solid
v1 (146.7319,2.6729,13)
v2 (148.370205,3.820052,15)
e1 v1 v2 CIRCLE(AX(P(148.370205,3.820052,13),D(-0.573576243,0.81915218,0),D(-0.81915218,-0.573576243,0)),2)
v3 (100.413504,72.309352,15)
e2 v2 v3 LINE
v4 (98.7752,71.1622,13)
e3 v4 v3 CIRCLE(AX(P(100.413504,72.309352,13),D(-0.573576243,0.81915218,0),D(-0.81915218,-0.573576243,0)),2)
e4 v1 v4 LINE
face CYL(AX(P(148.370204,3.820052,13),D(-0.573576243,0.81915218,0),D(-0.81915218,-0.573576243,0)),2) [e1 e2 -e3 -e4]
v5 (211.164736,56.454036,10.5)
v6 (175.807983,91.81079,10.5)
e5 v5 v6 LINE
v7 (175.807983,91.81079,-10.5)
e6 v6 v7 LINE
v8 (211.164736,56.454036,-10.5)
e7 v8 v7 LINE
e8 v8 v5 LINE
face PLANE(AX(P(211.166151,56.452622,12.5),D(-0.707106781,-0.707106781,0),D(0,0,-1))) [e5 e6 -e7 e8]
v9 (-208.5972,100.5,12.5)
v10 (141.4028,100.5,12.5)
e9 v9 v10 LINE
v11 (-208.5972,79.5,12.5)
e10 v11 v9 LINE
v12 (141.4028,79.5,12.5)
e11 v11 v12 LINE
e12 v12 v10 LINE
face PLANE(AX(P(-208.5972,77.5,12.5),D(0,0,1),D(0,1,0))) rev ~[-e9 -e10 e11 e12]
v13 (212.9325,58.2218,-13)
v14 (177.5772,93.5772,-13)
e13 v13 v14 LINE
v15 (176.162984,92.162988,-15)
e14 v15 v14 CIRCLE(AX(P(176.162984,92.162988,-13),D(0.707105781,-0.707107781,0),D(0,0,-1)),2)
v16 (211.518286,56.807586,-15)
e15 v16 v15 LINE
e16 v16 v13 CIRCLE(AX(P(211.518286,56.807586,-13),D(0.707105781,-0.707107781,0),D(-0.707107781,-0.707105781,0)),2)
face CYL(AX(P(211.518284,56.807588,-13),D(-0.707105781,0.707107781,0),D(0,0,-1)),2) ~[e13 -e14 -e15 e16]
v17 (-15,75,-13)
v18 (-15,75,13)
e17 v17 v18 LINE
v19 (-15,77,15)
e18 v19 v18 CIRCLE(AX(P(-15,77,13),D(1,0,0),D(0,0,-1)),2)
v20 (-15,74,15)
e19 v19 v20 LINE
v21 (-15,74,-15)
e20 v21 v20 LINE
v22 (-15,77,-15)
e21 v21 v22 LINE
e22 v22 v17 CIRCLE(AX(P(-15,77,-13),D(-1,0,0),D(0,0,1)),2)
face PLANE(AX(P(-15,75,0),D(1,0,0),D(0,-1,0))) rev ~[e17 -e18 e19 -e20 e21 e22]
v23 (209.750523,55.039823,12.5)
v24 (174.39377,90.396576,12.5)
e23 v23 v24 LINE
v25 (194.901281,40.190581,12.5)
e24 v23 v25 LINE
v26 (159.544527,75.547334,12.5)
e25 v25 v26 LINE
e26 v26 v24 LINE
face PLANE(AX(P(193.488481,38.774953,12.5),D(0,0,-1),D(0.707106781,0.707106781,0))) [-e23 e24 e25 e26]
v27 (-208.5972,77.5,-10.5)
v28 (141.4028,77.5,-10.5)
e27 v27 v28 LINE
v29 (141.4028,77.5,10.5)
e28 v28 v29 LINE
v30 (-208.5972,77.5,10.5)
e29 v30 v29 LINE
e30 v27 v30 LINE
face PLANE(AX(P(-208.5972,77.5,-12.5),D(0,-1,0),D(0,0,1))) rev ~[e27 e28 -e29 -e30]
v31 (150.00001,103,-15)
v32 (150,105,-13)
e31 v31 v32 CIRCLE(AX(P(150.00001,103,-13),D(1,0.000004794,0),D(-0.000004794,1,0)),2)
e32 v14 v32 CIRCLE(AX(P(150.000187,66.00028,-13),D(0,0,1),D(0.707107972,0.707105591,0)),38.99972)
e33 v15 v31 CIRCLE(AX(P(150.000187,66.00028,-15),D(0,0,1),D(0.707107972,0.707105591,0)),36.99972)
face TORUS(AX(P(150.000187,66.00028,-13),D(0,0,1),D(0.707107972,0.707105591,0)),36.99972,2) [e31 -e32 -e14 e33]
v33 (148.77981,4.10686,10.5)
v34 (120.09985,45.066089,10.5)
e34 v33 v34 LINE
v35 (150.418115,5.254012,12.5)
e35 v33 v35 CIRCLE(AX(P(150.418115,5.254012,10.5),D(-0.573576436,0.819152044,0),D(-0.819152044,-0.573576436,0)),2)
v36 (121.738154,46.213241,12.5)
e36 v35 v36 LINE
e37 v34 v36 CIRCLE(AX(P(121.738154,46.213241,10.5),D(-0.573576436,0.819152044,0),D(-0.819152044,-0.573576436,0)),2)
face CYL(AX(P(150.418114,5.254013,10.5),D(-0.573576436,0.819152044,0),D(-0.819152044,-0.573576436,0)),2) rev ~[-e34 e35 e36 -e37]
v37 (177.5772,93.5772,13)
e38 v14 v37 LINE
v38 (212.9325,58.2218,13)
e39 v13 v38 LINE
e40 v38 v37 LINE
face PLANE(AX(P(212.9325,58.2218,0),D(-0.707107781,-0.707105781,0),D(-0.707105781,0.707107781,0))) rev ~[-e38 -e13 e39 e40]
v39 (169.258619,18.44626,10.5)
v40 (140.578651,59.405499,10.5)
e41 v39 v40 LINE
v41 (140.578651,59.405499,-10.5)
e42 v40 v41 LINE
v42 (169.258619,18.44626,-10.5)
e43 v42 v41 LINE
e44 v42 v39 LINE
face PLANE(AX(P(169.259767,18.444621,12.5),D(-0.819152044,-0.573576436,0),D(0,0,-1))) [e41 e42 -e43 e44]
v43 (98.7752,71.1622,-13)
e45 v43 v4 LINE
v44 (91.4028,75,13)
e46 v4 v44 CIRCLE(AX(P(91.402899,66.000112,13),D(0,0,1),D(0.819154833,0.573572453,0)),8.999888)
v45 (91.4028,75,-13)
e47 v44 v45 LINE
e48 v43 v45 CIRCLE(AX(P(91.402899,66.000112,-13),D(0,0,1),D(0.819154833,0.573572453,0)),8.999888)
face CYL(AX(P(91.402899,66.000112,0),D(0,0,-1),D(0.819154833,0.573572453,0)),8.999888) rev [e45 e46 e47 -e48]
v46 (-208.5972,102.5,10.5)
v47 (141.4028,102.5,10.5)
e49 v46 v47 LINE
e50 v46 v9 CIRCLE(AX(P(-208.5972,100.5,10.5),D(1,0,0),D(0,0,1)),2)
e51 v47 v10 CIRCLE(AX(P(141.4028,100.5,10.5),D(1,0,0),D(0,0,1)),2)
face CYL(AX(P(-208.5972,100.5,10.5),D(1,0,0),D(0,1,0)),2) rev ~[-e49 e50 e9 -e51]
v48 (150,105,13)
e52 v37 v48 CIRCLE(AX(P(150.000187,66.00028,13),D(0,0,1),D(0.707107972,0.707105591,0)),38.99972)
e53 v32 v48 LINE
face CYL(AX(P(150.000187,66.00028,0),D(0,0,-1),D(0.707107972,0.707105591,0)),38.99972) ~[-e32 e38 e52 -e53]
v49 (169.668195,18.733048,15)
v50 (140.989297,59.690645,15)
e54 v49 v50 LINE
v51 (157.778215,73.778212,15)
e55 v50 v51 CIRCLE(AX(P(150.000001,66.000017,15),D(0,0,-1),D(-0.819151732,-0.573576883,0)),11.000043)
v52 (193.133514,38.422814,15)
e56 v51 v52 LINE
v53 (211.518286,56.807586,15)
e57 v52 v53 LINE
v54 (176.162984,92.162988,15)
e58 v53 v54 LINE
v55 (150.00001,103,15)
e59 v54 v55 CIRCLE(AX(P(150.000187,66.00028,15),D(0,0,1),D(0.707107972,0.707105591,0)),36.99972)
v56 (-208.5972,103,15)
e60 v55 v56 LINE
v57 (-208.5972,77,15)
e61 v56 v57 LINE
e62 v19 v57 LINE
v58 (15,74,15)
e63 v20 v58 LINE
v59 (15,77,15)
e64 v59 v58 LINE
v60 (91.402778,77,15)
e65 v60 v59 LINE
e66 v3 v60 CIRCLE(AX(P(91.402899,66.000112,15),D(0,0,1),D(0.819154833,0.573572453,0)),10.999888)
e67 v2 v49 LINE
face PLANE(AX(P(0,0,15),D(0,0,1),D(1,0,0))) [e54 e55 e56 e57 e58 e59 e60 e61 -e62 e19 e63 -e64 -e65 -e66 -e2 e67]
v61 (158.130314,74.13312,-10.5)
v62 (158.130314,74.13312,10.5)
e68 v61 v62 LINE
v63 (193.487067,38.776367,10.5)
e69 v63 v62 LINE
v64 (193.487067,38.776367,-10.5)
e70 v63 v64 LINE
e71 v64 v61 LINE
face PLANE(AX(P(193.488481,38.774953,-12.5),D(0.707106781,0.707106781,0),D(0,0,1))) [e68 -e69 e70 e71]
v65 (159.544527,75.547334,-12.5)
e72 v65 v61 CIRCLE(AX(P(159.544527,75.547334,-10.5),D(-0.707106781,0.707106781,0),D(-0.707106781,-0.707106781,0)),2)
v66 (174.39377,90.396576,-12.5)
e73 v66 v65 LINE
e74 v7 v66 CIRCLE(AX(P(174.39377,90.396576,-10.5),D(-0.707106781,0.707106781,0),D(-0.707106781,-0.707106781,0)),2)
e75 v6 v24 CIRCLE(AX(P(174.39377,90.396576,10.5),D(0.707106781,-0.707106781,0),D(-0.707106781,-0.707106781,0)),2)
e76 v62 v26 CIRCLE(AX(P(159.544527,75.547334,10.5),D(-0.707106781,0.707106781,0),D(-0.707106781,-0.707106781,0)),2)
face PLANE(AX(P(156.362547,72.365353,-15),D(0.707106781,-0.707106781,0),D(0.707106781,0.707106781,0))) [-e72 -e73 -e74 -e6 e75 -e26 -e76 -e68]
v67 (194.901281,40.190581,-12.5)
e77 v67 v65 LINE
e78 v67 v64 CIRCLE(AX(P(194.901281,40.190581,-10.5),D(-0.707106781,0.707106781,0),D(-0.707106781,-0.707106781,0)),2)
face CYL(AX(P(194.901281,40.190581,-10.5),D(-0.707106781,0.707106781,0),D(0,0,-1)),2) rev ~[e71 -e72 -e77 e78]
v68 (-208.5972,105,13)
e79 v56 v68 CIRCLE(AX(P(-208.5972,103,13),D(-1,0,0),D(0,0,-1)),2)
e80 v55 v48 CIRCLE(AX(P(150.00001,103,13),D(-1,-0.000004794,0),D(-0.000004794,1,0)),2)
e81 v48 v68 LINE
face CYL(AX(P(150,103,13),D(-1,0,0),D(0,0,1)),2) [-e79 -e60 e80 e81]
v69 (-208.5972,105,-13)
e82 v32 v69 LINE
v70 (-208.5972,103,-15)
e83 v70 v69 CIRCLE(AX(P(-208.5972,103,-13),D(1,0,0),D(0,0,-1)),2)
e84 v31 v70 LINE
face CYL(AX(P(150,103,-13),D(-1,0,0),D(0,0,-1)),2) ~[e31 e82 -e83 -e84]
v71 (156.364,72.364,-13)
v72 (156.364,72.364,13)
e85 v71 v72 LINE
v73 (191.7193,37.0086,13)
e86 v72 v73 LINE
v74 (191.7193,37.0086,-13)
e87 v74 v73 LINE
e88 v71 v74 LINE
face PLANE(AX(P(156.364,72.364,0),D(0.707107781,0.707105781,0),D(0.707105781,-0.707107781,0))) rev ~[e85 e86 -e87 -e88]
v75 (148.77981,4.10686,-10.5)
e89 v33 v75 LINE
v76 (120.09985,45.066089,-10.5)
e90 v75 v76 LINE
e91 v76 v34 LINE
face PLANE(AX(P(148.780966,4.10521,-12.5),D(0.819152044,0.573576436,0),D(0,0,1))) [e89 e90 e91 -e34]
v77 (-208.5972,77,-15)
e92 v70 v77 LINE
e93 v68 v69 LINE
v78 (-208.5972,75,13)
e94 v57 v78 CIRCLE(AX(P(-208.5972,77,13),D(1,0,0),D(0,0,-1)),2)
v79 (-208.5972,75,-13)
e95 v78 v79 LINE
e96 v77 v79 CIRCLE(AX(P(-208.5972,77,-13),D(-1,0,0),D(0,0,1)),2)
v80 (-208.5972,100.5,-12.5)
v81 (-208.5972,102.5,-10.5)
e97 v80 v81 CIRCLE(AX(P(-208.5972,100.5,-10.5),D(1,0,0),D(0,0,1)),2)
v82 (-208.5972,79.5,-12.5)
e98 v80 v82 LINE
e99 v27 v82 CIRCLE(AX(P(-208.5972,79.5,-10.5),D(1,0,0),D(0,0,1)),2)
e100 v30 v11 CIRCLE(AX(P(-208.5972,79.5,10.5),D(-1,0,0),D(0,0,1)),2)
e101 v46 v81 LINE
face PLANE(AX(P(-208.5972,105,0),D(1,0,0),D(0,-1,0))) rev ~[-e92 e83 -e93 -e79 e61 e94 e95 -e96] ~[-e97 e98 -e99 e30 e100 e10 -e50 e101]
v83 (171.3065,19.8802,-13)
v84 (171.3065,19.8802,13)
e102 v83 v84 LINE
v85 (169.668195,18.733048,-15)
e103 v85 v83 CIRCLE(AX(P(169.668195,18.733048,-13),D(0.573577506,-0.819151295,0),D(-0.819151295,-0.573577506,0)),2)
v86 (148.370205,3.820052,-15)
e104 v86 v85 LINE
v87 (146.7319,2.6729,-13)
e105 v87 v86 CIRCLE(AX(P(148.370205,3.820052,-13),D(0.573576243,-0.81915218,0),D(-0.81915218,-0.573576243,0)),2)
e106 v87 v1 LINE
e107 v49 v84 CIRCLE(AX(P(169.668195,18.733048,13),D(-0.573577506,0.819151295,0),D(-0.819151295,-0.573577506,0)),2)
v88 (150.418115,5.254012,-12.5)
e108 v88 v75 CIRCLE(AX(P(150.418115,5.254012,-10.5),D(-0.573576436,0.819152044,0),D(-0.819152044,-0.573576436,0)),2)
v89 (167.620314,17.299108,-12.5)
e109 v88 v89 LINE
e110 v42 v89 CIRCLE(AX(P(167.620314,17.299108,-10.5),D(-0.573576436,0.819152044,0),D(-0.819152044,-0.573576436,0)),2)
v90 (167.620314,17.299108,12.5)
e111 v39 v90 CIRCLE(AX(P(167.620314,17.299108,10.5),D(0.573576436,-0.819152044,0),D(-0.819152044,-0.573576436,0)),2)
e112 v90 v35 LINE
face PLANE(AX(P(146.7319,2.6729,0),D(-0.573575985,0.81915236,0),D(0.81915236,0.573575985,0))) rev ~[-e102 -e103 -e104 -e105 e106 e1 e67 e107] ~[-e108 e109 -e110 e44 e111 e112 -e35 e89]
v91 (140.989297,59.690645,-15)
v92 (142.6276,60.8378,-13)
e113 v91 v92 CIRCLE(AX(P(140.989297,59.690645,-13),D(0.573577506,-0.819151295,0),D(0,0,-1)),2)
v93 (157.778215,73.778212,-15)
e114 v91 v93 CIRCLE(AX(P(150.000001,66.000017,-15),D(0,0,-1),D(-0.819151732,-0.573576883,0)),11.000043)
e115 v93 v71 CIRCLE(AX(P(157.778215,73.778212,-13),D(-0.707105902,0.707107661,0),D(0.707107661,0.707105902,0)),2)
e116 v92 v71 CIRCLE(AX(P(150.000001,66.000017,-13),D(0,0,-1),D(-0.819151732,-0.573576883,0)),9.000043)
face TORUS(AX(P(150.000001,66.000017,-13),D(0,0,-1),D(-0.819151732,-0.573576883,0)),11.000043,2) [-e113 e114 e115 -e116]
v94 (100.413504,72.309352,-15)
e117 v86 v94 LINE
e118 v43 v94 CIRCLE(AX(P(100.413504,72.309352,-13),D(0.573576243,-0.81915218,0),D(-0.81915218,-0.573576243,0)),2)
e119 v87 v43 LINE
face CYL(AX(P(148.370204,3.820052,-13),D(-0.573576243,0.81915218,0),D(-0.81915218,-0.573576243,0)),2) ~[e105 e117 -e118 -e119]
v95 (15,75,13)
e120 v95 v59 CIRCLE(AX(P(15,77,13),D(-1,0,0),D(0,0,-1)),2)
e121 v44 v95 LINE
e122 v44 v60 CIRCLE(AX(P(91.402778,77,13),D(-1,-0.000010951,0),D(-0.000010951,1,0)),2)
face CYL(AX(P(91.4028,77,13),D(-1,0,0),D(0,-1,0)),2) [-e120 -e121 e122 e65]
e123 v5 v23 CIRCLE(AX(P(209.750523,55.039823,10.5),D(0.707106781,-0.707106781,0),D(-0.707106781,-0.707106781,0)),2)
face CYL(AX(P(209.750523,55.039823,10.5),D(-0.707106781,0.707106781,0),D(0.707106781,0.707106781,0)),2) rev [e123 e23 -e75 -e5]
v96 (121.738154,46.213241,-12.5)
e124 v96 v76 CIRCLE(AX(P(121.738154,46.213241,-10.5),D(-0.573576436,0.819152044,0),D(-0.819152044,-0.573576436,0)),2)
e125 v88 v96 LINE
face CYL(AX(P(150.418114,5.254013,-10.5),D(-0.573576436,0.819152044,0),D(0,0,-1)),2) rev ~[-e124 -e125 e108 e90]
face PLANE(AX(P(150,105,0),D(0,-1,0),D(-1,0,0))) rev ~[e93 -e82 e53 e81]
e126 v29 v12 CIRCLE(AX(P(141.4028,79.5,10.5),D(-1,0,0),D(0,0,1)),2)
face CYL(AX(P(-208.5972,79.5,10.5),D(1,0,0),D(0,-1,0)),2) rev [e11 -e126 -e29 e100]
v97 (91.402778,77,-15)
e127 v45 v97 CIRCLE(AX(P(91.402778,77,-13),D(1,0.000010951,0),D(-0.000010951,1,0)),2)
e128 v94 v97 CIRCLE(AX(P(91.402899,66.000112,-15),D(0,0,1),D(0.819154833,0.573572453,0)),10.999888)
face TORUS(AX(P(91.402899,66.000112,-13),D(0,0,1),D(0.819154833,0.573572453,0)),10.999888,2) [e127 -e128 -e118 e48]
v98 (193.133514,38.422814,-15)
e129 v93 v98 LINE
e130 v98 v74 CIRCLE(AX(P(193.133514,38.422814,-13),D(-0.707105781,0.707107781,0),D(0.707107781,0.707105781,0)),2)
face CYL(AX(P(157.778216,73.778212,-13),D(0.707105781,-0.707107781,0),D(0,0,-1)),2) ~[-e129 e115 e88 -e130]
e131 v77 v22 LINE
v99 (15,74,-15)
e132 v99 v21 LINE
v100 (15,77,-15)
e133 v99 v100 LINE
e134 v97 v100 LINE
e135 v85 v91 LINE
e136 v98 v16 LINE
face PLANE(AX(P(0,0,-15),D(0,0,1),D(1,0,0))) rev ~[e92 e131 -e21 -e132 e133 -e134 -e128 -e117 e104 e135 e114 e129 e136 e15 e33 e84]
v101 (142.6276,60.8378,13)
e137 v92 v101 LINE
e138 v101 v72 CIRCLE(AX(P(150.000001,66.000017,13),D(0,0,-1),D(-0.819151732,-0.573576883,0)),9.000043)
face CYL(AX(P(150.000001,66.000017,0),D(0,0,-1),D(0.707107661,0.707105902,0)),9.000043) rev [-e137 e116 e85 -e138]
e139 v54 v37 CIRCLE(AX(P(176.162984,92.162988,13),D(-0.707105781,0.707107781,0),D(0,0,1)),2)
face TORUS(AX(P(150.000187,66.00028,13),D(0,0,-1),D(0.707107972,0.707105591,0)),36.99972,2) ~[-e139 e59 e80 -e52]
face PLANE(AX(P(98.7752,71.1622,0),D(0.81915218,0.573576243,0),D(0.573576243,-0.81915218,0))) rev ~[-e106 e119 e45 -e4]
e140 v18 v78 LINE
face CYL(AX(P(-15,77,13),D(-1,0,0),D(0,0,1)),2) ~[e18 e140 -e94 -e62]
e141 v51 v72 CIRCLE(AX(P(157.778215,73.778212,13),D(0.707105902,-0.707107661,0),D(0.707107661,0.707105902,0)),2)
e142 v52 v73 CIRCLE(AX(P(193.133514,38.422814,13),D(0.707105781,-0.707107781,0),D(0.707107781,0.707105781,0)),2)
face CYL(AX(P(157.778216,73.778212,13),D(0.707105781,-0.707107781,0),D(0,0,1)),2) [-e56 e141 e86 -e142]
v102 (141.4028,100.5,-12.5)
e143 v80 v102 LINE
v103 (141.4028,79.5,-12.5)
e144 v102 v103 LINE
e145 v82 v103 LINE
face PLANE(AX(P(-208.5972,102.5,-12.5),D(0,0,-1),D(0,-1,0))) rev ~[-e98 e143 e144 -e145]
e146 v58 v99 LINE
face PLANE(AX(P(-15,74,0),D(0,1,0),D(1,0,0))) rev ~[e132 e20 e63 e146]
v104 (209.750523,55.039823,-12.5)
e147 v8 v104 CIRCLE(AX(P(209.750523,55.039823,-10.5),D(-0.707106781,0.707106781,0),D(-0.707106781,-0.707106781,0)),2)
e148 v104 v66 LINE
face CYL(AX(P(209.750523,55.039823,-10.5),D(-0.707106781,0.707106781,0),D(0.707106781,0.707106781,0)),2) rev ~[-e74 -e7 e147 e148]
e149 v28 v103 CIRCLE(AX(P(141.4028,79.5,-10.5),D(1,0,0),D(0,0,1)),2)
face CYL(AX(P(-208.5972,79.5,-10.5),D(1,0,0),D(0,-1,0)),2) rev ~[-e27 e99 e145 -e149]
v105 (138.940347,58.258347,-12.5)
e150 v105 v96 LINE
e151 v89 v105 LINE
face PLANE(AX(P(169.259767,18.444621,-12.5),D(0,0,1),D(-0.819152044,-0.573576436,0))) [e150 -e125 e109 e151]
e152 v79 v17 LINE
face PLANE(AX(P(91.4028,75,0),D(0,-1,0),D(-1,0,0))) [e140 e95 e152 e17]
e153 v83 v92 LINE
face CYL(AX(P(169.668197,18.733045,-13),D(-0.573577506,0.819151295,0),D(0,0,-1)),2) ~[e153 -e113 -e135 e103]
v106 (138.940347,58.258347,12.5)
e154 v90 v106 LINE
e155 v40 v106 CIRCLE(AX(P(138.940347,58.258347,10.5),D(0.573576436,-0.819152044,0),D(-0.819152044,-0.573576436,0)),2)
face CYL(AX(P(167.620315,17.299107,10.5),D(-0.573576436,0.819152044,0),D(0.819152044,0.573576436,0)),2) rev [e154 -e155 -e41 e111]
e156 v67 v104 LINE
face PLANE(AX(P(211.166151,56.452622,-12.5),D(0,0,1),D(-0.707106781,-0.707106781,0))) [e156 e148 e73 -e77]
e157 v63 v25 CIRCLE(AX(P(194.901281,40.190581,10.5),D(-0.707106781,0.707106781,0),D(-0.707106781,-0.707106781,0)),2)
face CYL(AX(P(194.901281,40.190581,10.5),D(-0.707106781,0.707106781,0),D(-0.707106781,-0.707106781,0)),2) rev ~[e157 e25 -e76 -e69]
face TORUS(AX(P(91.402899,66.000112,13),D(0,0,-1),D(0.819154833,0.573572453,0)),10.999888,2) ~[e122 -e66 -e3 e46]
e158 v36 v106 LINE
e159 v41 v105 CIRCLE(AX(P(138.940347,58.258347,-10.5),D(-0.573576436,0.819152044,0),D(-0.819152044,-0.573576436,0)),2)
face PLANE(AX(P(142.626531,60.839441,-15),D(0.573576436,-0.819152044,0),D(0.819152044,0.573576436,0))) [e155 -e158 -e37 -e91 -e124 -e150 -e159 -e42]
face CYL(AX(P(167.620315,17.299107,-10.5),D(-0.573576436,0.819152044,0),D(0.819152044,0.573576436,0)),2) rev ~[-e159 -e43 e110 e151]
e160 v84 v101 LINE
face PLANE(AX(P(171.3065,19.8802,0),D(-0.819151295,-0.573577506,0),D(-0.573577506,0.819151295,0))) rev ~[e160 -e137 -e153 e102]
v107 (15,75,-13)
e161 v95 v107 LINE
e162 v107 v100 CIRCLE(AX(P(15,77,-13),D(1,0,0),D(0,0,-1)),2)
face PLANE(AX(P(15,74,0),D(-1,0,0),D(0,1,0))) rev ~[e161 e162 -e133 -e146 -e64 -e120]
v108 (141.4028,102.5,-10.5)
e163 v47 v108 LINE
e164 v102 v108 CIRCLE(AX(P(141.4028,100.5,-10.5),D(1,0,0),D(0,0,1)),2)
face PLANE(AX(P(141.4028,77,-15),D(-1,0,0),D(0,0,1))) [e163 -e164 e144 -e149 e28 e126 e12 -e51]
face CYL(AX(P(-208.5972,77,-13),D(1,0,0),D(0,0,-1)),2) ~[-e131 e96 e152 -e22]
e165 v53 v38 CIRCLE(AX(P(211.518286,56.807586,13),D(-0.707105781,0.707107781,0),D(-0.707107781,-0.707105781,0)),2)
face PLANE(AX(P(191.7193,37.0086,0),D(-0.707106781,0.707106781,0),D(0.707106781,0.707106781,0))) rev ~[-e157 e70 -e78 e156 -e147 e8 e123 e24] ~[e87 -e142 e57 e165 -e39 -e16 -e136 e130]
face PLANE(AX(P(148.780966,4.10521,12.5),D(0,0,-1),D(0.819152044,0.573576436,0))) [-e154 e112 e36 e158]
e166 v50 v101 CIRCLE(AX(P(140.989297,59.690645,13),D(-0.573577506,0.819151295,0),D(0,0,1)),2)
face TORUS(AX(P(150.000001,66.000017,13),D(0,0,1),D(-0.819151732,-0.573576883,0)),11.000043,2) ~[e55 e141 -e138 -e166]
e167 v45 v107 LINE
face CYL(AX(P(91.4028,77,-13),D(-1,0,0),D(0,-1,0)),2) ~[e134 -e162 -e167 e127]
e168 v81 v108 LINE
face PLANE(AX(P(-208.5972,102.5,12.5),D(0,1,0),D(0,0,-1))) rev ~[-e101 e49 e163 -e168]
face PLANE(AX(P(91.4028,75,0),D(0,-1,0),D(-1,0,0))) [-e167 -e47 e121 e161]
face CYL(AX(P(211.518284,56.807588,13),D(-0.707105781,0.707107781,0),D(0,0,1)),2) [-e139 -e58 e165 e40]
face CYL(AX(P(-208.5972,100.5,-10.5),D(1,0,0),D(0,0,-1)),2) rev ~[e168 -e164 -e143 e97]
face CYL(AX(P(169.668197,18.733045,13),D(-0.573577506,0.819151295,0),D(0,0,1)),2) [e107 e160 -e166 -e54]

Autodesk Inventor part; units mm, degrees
ref_plane "YZ Plane" through (0, 0, 0) normal (1, 0, 0) x (0, 1, 0)
ref_plane "XZ Plane" through (0, 0, 0) normal (0, 1, 0) x (-1, 0, 0)
ref_plane "XY Plane" through (0, 0, 0) normal (0, 0, 1) x (1, 0, 0)
sketch "Sketch1" plane through (0, 0, 0) normal (0, 0, 1) x (1, 0, 0)
  line L0 (98.7752, 71.1622) -> (146.7319, 2.6729)
  line L1 (146.7319, 2.6729) -> (171.3065, 19.8802)
  line L2 (171.3065, 19.8802) -> (142.6276, 60.8378)
  arc A0 (156.364, 72.364) -> (142.6276, 60.8378) centre (150, 66) ccw
  line L3 (156.364, 72.364) -> (191.7193, 37.0086)
  line L4 (191.7193, 37.0086) -> (212.9325, 58.2218)
  line L5 (212.9325, 58.2218) -> (177.5772, 93.5772)
  arc A1 (177.5772, 93.5772) -> (150, 105) centre (150, 66) ccw
  line L6 (91.4028, 75) -> (-208.5972, 75)
  line L7 (150, 105) -> (-208.5972, 105)
  line L8 (-208.5972, 105) -> (-208.5972, 75)
  line L9 (0, 128.7567) -> (0, -18.341) projected
  line L10 (-292.9031, 0) -> (297.2384, 0) projected
  arc A2 (98.7752, 71.1622) -> (91.4028, 75) centre (91.4028, 66) ccw
  dimension "d38" = 30
  dimension "d39" = 30
  dimension "d40" = 9
  dimension "d47" = 30
  dimension "d53" = 9
  dimension "d56" = 300
  dimension "d58" = 150
  dimension "d59" = 50
  dimension "d60" = 35
  dimension "d61" = 75
  dimension "d88" = 45
extrude "Extrusion1" add sketch "Sketch1" along normal mid plane 30
sketch "Sketch4" plane through (0, 0, 0) normal (0, 0, 1) x (1, 0, 0)
  line L0 (-208.5972, 75) -> (91.4028, 75) projected
  line L1 (-15, 75) -> (15, 75)
  line L2 (-15, 75) -> (-15, 74)
  line L3 (-15, 74) -> (15, 74)
  line L4 (15, 74) -> (15, 75)
  line L5 (0, 90) -> (0, -15) projected
  point P0 (0, 0)
  dimension "d62" = 30
  dimension "d63" = 15
  dimension "d64" = 1
extrude "Extrusion4" add sketch "Sketch4" along normal mid plane 30
fillet "Fillet1" radius 2 14 edges at (-111.7986, 75, 15) (95.5586, 73.9831, 15) (122.7535, 36.9176, 15) (53.2014, 75, 15) (-111.7986, 75, -15) (95.5586, 73.9831, -15) (122.7535, 36.9176, -15) (53.2014, 75, -15) (164.9247, 102.0313, -15) (195.2548, 75.8995, -15) (-29.2986, 105, -15) (164.9247, 102.0313, 15) (195.2548, 75.8995, 15) (-29.2986, 105, 15)
sketch "Sketch5" plane through (-208.5972, 77, -15) normal (-1, 0, 0) x (0, 0, 1)
  line L0 (27.5, 25.5) -> (2.5, 25.5)
  line L1 (2.5, 25.5) -> (2.5, 0.5)
  line L2 (2.5, 0.5) -> (27.5, 0.5)
  line L3 (27.5, 0.5) -> (27.5, 25.5)
  line L4 (2, 28) -> (28, 28) projected
  line L5 (0, 0) -> (0, 26) projected
  line L6 (2, -2) -> (28, -2) projected
  line L7 (30, 26) -> (30, 0) projected
  point P0 (15, -77)
  dimension "d68" = 2.5
  dimension "d69" = 2.5
  dimension "d70" = 2.5
  dimension "d71" = 2.5
extrude "Extrusion5" cut sketch "Sketch5" against normal blind 350
fillet "Fillet2" radius 2 4 edges at (-33.5972, 77.5, 12.5) (-33.5972, 77.5, -12.5) (-33.5972, 102.5, -12.5) (-33.5972, 102.5, 12.5)
sketch "Sketch6" plane through (191.7193, 37.0086, -15) normal (0.7071, -0.7071, 0) x (0.7071, 0.7071, 0)
  line L0 (2.5, 27.5) -> (27.5, 27.5)
  line L1 (27.5, 27.5) -> (27.5, 2.5)
  line L2 (27.5, 2.5) -> (2.5, 2.5)
  line L3 (2.5, 2.5) -> (2.5, 27.5)
  line L4 (28, 0) -> (0, 0) projected
  line L5 (30, 2) -> (30, 28) projected
  line L6 (0, 30) -> (28, 30) projected
  line L7 (0, 0) -> (0, 30) projected
  point P0 (-161.7351, 15)
  dimension "d75" = 2.5
  dimension "d76" = 2.5
  dimension "d77" = 2.5
  dimension "d78" = 2.5
extrude "Extrusion6" cut sketch "Sketch6" against normal blind 50
sketch "Sketch7" plane through (171.3065, 19.8802, -15) normal (0.5736, -0.8192, 0) x (0.8192, 0.5736, 0)
  line L0 (-27.5, 27.5) -> (-2.5, 27.5)
  line L1 (-2.5, 27.5) -> (-2.5, 2.5)
  line L2 (-2.5, 2.5) -> (-27.5, 2.5)
  line L3 (-27.5, 2.5) -> (-27.5, 27.5)
  line L4 (-28, 30) -> (0, 30) projected
  line L5 (0, 30) -> (0, 0) projected
  line L6 (0, 0) -> (-28, 0) projected
  line L7 (-30, 2) -> (-30, 28) projected
  point P0 (-151.7289, 15)
  dimension "d81" = 2.5
  dimension "d82" = 2.5
  dimension "d83" = 2.5
  dimension "d84" = 2.5
extrude "Extrusion7" cut sketch "Sketch7" against normal blind 50
fillet "Fillet3" radius 2 14 edges at (174.0416, 54.6863, 15) (156.967, 40.359, 15) (144.2149, 72.8944, 15) (156.967, 40.359, -15) (174.0416, 54.6863, -15) (144.2149, 72.8944, -15) (134.4404, 24.5857, -12.5) (134.4404, 24.5857, 12.5) (154.9192, 38.9251, 12.5) (154.9192, 38.9251, -12.5) (175.8094, 56.4541, -12.5) (193.4871, 74.1317, -12.5) (193.4871, 74.1317, 12.5) (175.8094, 56.4541, 12.5)
equation "\"d39\" = d38"
equation "\"secure_arm_radii\" = 9"
equation "\"rack_tooth_thickness\" = 5"
equation "\"rack_tooth_addendum\" = 5"
equation "\"rack_tooth_dedendum\" = 5"
equation "\"hoop_width_large\" = 51"
equation "\"hoop_thickness_large\" = 4"
equation "\"hoop_width_medium\" = 33.7"
equation "\"hoop_thickness_medium\" = 3.2"
equation "\"hoop_width_small\" = 25.4"
equation "\"hoop_thickness_small\" = 2"
equation "\"hoop_bearing_length\" = 5deg"
equation "\"secure_arm_angle\" = 35deg"
equation "\"hoop_tabs_thickness\" = 6"
equation "\"hoop_tabs_hole\" = 12"
equation "\"support_baseClamp_thickness\" = 8"
equation "\"support_frame_endHoleBuffer\" = 45"
equation "\"support_frame_squareBarThickness\" = 5"
equation "\"support_baseClamp_sleeveSweepTerminationAngle\" = 55deg"
equation "\"support_baseClamp_sleeveHoleDiameter\" = 12"
equation "\"support_frame_squareBarFillet\" = 2"
equation "\"support_baseClamp_platformWidthBuffer\" = 0"
equation "\"support_baseClamp_platformThickness\" = 15"
equation "\"support_baseClamp_platformLengthBuffer\" = 35"
equation "\"hoop_angle_z\" = 45deg"
equation "\"hoop_cable_diam\" = 5"
equation "\"hoop_cable_pulley_diam\" = 22"
equation "\"wheelchair_deployed_width\" = 635"
equation "\"wheelchair_deployed_height\" = 914"
equation "\"wheelchair_deployed_length\" = 1067"
equation "\"sm_varx_pinPlate_thickness\" = 5"
equation "\"sm_varx_member_tolerance\" = 0"
equation "\"sm_varx_pinPlate_holeDiameter\" = 5"
equation "\"sm_varx_squareBarThickness\" = 2.5"
equation "\"hoop_bushing23_radialInterference\" = 0"
equation "\"hoop_bushing12_radialInterference\" = 0"
equation "\"hoop_bushing12_od\" = 43"
equation "\"hoop_bushing23_od\" = 27.3"
equation "\"wheelchatir_pos_deploy_angle_0\" = 65deg"
equation "\"wheelchatir_pos_store_angle_0\" = 90deg"
equation "\"wheelchatir_pos_deploy_angle_1\" = 20deg"
equation "\"wheelchatir_pos_store_angle_1\" = 20deg"
equation "\"hoop_bushing12_thickness\" = 9.3"
equation "\"hoop_bushing23_thickness\" = 1.9"
properties part number "grip_N_fix"
